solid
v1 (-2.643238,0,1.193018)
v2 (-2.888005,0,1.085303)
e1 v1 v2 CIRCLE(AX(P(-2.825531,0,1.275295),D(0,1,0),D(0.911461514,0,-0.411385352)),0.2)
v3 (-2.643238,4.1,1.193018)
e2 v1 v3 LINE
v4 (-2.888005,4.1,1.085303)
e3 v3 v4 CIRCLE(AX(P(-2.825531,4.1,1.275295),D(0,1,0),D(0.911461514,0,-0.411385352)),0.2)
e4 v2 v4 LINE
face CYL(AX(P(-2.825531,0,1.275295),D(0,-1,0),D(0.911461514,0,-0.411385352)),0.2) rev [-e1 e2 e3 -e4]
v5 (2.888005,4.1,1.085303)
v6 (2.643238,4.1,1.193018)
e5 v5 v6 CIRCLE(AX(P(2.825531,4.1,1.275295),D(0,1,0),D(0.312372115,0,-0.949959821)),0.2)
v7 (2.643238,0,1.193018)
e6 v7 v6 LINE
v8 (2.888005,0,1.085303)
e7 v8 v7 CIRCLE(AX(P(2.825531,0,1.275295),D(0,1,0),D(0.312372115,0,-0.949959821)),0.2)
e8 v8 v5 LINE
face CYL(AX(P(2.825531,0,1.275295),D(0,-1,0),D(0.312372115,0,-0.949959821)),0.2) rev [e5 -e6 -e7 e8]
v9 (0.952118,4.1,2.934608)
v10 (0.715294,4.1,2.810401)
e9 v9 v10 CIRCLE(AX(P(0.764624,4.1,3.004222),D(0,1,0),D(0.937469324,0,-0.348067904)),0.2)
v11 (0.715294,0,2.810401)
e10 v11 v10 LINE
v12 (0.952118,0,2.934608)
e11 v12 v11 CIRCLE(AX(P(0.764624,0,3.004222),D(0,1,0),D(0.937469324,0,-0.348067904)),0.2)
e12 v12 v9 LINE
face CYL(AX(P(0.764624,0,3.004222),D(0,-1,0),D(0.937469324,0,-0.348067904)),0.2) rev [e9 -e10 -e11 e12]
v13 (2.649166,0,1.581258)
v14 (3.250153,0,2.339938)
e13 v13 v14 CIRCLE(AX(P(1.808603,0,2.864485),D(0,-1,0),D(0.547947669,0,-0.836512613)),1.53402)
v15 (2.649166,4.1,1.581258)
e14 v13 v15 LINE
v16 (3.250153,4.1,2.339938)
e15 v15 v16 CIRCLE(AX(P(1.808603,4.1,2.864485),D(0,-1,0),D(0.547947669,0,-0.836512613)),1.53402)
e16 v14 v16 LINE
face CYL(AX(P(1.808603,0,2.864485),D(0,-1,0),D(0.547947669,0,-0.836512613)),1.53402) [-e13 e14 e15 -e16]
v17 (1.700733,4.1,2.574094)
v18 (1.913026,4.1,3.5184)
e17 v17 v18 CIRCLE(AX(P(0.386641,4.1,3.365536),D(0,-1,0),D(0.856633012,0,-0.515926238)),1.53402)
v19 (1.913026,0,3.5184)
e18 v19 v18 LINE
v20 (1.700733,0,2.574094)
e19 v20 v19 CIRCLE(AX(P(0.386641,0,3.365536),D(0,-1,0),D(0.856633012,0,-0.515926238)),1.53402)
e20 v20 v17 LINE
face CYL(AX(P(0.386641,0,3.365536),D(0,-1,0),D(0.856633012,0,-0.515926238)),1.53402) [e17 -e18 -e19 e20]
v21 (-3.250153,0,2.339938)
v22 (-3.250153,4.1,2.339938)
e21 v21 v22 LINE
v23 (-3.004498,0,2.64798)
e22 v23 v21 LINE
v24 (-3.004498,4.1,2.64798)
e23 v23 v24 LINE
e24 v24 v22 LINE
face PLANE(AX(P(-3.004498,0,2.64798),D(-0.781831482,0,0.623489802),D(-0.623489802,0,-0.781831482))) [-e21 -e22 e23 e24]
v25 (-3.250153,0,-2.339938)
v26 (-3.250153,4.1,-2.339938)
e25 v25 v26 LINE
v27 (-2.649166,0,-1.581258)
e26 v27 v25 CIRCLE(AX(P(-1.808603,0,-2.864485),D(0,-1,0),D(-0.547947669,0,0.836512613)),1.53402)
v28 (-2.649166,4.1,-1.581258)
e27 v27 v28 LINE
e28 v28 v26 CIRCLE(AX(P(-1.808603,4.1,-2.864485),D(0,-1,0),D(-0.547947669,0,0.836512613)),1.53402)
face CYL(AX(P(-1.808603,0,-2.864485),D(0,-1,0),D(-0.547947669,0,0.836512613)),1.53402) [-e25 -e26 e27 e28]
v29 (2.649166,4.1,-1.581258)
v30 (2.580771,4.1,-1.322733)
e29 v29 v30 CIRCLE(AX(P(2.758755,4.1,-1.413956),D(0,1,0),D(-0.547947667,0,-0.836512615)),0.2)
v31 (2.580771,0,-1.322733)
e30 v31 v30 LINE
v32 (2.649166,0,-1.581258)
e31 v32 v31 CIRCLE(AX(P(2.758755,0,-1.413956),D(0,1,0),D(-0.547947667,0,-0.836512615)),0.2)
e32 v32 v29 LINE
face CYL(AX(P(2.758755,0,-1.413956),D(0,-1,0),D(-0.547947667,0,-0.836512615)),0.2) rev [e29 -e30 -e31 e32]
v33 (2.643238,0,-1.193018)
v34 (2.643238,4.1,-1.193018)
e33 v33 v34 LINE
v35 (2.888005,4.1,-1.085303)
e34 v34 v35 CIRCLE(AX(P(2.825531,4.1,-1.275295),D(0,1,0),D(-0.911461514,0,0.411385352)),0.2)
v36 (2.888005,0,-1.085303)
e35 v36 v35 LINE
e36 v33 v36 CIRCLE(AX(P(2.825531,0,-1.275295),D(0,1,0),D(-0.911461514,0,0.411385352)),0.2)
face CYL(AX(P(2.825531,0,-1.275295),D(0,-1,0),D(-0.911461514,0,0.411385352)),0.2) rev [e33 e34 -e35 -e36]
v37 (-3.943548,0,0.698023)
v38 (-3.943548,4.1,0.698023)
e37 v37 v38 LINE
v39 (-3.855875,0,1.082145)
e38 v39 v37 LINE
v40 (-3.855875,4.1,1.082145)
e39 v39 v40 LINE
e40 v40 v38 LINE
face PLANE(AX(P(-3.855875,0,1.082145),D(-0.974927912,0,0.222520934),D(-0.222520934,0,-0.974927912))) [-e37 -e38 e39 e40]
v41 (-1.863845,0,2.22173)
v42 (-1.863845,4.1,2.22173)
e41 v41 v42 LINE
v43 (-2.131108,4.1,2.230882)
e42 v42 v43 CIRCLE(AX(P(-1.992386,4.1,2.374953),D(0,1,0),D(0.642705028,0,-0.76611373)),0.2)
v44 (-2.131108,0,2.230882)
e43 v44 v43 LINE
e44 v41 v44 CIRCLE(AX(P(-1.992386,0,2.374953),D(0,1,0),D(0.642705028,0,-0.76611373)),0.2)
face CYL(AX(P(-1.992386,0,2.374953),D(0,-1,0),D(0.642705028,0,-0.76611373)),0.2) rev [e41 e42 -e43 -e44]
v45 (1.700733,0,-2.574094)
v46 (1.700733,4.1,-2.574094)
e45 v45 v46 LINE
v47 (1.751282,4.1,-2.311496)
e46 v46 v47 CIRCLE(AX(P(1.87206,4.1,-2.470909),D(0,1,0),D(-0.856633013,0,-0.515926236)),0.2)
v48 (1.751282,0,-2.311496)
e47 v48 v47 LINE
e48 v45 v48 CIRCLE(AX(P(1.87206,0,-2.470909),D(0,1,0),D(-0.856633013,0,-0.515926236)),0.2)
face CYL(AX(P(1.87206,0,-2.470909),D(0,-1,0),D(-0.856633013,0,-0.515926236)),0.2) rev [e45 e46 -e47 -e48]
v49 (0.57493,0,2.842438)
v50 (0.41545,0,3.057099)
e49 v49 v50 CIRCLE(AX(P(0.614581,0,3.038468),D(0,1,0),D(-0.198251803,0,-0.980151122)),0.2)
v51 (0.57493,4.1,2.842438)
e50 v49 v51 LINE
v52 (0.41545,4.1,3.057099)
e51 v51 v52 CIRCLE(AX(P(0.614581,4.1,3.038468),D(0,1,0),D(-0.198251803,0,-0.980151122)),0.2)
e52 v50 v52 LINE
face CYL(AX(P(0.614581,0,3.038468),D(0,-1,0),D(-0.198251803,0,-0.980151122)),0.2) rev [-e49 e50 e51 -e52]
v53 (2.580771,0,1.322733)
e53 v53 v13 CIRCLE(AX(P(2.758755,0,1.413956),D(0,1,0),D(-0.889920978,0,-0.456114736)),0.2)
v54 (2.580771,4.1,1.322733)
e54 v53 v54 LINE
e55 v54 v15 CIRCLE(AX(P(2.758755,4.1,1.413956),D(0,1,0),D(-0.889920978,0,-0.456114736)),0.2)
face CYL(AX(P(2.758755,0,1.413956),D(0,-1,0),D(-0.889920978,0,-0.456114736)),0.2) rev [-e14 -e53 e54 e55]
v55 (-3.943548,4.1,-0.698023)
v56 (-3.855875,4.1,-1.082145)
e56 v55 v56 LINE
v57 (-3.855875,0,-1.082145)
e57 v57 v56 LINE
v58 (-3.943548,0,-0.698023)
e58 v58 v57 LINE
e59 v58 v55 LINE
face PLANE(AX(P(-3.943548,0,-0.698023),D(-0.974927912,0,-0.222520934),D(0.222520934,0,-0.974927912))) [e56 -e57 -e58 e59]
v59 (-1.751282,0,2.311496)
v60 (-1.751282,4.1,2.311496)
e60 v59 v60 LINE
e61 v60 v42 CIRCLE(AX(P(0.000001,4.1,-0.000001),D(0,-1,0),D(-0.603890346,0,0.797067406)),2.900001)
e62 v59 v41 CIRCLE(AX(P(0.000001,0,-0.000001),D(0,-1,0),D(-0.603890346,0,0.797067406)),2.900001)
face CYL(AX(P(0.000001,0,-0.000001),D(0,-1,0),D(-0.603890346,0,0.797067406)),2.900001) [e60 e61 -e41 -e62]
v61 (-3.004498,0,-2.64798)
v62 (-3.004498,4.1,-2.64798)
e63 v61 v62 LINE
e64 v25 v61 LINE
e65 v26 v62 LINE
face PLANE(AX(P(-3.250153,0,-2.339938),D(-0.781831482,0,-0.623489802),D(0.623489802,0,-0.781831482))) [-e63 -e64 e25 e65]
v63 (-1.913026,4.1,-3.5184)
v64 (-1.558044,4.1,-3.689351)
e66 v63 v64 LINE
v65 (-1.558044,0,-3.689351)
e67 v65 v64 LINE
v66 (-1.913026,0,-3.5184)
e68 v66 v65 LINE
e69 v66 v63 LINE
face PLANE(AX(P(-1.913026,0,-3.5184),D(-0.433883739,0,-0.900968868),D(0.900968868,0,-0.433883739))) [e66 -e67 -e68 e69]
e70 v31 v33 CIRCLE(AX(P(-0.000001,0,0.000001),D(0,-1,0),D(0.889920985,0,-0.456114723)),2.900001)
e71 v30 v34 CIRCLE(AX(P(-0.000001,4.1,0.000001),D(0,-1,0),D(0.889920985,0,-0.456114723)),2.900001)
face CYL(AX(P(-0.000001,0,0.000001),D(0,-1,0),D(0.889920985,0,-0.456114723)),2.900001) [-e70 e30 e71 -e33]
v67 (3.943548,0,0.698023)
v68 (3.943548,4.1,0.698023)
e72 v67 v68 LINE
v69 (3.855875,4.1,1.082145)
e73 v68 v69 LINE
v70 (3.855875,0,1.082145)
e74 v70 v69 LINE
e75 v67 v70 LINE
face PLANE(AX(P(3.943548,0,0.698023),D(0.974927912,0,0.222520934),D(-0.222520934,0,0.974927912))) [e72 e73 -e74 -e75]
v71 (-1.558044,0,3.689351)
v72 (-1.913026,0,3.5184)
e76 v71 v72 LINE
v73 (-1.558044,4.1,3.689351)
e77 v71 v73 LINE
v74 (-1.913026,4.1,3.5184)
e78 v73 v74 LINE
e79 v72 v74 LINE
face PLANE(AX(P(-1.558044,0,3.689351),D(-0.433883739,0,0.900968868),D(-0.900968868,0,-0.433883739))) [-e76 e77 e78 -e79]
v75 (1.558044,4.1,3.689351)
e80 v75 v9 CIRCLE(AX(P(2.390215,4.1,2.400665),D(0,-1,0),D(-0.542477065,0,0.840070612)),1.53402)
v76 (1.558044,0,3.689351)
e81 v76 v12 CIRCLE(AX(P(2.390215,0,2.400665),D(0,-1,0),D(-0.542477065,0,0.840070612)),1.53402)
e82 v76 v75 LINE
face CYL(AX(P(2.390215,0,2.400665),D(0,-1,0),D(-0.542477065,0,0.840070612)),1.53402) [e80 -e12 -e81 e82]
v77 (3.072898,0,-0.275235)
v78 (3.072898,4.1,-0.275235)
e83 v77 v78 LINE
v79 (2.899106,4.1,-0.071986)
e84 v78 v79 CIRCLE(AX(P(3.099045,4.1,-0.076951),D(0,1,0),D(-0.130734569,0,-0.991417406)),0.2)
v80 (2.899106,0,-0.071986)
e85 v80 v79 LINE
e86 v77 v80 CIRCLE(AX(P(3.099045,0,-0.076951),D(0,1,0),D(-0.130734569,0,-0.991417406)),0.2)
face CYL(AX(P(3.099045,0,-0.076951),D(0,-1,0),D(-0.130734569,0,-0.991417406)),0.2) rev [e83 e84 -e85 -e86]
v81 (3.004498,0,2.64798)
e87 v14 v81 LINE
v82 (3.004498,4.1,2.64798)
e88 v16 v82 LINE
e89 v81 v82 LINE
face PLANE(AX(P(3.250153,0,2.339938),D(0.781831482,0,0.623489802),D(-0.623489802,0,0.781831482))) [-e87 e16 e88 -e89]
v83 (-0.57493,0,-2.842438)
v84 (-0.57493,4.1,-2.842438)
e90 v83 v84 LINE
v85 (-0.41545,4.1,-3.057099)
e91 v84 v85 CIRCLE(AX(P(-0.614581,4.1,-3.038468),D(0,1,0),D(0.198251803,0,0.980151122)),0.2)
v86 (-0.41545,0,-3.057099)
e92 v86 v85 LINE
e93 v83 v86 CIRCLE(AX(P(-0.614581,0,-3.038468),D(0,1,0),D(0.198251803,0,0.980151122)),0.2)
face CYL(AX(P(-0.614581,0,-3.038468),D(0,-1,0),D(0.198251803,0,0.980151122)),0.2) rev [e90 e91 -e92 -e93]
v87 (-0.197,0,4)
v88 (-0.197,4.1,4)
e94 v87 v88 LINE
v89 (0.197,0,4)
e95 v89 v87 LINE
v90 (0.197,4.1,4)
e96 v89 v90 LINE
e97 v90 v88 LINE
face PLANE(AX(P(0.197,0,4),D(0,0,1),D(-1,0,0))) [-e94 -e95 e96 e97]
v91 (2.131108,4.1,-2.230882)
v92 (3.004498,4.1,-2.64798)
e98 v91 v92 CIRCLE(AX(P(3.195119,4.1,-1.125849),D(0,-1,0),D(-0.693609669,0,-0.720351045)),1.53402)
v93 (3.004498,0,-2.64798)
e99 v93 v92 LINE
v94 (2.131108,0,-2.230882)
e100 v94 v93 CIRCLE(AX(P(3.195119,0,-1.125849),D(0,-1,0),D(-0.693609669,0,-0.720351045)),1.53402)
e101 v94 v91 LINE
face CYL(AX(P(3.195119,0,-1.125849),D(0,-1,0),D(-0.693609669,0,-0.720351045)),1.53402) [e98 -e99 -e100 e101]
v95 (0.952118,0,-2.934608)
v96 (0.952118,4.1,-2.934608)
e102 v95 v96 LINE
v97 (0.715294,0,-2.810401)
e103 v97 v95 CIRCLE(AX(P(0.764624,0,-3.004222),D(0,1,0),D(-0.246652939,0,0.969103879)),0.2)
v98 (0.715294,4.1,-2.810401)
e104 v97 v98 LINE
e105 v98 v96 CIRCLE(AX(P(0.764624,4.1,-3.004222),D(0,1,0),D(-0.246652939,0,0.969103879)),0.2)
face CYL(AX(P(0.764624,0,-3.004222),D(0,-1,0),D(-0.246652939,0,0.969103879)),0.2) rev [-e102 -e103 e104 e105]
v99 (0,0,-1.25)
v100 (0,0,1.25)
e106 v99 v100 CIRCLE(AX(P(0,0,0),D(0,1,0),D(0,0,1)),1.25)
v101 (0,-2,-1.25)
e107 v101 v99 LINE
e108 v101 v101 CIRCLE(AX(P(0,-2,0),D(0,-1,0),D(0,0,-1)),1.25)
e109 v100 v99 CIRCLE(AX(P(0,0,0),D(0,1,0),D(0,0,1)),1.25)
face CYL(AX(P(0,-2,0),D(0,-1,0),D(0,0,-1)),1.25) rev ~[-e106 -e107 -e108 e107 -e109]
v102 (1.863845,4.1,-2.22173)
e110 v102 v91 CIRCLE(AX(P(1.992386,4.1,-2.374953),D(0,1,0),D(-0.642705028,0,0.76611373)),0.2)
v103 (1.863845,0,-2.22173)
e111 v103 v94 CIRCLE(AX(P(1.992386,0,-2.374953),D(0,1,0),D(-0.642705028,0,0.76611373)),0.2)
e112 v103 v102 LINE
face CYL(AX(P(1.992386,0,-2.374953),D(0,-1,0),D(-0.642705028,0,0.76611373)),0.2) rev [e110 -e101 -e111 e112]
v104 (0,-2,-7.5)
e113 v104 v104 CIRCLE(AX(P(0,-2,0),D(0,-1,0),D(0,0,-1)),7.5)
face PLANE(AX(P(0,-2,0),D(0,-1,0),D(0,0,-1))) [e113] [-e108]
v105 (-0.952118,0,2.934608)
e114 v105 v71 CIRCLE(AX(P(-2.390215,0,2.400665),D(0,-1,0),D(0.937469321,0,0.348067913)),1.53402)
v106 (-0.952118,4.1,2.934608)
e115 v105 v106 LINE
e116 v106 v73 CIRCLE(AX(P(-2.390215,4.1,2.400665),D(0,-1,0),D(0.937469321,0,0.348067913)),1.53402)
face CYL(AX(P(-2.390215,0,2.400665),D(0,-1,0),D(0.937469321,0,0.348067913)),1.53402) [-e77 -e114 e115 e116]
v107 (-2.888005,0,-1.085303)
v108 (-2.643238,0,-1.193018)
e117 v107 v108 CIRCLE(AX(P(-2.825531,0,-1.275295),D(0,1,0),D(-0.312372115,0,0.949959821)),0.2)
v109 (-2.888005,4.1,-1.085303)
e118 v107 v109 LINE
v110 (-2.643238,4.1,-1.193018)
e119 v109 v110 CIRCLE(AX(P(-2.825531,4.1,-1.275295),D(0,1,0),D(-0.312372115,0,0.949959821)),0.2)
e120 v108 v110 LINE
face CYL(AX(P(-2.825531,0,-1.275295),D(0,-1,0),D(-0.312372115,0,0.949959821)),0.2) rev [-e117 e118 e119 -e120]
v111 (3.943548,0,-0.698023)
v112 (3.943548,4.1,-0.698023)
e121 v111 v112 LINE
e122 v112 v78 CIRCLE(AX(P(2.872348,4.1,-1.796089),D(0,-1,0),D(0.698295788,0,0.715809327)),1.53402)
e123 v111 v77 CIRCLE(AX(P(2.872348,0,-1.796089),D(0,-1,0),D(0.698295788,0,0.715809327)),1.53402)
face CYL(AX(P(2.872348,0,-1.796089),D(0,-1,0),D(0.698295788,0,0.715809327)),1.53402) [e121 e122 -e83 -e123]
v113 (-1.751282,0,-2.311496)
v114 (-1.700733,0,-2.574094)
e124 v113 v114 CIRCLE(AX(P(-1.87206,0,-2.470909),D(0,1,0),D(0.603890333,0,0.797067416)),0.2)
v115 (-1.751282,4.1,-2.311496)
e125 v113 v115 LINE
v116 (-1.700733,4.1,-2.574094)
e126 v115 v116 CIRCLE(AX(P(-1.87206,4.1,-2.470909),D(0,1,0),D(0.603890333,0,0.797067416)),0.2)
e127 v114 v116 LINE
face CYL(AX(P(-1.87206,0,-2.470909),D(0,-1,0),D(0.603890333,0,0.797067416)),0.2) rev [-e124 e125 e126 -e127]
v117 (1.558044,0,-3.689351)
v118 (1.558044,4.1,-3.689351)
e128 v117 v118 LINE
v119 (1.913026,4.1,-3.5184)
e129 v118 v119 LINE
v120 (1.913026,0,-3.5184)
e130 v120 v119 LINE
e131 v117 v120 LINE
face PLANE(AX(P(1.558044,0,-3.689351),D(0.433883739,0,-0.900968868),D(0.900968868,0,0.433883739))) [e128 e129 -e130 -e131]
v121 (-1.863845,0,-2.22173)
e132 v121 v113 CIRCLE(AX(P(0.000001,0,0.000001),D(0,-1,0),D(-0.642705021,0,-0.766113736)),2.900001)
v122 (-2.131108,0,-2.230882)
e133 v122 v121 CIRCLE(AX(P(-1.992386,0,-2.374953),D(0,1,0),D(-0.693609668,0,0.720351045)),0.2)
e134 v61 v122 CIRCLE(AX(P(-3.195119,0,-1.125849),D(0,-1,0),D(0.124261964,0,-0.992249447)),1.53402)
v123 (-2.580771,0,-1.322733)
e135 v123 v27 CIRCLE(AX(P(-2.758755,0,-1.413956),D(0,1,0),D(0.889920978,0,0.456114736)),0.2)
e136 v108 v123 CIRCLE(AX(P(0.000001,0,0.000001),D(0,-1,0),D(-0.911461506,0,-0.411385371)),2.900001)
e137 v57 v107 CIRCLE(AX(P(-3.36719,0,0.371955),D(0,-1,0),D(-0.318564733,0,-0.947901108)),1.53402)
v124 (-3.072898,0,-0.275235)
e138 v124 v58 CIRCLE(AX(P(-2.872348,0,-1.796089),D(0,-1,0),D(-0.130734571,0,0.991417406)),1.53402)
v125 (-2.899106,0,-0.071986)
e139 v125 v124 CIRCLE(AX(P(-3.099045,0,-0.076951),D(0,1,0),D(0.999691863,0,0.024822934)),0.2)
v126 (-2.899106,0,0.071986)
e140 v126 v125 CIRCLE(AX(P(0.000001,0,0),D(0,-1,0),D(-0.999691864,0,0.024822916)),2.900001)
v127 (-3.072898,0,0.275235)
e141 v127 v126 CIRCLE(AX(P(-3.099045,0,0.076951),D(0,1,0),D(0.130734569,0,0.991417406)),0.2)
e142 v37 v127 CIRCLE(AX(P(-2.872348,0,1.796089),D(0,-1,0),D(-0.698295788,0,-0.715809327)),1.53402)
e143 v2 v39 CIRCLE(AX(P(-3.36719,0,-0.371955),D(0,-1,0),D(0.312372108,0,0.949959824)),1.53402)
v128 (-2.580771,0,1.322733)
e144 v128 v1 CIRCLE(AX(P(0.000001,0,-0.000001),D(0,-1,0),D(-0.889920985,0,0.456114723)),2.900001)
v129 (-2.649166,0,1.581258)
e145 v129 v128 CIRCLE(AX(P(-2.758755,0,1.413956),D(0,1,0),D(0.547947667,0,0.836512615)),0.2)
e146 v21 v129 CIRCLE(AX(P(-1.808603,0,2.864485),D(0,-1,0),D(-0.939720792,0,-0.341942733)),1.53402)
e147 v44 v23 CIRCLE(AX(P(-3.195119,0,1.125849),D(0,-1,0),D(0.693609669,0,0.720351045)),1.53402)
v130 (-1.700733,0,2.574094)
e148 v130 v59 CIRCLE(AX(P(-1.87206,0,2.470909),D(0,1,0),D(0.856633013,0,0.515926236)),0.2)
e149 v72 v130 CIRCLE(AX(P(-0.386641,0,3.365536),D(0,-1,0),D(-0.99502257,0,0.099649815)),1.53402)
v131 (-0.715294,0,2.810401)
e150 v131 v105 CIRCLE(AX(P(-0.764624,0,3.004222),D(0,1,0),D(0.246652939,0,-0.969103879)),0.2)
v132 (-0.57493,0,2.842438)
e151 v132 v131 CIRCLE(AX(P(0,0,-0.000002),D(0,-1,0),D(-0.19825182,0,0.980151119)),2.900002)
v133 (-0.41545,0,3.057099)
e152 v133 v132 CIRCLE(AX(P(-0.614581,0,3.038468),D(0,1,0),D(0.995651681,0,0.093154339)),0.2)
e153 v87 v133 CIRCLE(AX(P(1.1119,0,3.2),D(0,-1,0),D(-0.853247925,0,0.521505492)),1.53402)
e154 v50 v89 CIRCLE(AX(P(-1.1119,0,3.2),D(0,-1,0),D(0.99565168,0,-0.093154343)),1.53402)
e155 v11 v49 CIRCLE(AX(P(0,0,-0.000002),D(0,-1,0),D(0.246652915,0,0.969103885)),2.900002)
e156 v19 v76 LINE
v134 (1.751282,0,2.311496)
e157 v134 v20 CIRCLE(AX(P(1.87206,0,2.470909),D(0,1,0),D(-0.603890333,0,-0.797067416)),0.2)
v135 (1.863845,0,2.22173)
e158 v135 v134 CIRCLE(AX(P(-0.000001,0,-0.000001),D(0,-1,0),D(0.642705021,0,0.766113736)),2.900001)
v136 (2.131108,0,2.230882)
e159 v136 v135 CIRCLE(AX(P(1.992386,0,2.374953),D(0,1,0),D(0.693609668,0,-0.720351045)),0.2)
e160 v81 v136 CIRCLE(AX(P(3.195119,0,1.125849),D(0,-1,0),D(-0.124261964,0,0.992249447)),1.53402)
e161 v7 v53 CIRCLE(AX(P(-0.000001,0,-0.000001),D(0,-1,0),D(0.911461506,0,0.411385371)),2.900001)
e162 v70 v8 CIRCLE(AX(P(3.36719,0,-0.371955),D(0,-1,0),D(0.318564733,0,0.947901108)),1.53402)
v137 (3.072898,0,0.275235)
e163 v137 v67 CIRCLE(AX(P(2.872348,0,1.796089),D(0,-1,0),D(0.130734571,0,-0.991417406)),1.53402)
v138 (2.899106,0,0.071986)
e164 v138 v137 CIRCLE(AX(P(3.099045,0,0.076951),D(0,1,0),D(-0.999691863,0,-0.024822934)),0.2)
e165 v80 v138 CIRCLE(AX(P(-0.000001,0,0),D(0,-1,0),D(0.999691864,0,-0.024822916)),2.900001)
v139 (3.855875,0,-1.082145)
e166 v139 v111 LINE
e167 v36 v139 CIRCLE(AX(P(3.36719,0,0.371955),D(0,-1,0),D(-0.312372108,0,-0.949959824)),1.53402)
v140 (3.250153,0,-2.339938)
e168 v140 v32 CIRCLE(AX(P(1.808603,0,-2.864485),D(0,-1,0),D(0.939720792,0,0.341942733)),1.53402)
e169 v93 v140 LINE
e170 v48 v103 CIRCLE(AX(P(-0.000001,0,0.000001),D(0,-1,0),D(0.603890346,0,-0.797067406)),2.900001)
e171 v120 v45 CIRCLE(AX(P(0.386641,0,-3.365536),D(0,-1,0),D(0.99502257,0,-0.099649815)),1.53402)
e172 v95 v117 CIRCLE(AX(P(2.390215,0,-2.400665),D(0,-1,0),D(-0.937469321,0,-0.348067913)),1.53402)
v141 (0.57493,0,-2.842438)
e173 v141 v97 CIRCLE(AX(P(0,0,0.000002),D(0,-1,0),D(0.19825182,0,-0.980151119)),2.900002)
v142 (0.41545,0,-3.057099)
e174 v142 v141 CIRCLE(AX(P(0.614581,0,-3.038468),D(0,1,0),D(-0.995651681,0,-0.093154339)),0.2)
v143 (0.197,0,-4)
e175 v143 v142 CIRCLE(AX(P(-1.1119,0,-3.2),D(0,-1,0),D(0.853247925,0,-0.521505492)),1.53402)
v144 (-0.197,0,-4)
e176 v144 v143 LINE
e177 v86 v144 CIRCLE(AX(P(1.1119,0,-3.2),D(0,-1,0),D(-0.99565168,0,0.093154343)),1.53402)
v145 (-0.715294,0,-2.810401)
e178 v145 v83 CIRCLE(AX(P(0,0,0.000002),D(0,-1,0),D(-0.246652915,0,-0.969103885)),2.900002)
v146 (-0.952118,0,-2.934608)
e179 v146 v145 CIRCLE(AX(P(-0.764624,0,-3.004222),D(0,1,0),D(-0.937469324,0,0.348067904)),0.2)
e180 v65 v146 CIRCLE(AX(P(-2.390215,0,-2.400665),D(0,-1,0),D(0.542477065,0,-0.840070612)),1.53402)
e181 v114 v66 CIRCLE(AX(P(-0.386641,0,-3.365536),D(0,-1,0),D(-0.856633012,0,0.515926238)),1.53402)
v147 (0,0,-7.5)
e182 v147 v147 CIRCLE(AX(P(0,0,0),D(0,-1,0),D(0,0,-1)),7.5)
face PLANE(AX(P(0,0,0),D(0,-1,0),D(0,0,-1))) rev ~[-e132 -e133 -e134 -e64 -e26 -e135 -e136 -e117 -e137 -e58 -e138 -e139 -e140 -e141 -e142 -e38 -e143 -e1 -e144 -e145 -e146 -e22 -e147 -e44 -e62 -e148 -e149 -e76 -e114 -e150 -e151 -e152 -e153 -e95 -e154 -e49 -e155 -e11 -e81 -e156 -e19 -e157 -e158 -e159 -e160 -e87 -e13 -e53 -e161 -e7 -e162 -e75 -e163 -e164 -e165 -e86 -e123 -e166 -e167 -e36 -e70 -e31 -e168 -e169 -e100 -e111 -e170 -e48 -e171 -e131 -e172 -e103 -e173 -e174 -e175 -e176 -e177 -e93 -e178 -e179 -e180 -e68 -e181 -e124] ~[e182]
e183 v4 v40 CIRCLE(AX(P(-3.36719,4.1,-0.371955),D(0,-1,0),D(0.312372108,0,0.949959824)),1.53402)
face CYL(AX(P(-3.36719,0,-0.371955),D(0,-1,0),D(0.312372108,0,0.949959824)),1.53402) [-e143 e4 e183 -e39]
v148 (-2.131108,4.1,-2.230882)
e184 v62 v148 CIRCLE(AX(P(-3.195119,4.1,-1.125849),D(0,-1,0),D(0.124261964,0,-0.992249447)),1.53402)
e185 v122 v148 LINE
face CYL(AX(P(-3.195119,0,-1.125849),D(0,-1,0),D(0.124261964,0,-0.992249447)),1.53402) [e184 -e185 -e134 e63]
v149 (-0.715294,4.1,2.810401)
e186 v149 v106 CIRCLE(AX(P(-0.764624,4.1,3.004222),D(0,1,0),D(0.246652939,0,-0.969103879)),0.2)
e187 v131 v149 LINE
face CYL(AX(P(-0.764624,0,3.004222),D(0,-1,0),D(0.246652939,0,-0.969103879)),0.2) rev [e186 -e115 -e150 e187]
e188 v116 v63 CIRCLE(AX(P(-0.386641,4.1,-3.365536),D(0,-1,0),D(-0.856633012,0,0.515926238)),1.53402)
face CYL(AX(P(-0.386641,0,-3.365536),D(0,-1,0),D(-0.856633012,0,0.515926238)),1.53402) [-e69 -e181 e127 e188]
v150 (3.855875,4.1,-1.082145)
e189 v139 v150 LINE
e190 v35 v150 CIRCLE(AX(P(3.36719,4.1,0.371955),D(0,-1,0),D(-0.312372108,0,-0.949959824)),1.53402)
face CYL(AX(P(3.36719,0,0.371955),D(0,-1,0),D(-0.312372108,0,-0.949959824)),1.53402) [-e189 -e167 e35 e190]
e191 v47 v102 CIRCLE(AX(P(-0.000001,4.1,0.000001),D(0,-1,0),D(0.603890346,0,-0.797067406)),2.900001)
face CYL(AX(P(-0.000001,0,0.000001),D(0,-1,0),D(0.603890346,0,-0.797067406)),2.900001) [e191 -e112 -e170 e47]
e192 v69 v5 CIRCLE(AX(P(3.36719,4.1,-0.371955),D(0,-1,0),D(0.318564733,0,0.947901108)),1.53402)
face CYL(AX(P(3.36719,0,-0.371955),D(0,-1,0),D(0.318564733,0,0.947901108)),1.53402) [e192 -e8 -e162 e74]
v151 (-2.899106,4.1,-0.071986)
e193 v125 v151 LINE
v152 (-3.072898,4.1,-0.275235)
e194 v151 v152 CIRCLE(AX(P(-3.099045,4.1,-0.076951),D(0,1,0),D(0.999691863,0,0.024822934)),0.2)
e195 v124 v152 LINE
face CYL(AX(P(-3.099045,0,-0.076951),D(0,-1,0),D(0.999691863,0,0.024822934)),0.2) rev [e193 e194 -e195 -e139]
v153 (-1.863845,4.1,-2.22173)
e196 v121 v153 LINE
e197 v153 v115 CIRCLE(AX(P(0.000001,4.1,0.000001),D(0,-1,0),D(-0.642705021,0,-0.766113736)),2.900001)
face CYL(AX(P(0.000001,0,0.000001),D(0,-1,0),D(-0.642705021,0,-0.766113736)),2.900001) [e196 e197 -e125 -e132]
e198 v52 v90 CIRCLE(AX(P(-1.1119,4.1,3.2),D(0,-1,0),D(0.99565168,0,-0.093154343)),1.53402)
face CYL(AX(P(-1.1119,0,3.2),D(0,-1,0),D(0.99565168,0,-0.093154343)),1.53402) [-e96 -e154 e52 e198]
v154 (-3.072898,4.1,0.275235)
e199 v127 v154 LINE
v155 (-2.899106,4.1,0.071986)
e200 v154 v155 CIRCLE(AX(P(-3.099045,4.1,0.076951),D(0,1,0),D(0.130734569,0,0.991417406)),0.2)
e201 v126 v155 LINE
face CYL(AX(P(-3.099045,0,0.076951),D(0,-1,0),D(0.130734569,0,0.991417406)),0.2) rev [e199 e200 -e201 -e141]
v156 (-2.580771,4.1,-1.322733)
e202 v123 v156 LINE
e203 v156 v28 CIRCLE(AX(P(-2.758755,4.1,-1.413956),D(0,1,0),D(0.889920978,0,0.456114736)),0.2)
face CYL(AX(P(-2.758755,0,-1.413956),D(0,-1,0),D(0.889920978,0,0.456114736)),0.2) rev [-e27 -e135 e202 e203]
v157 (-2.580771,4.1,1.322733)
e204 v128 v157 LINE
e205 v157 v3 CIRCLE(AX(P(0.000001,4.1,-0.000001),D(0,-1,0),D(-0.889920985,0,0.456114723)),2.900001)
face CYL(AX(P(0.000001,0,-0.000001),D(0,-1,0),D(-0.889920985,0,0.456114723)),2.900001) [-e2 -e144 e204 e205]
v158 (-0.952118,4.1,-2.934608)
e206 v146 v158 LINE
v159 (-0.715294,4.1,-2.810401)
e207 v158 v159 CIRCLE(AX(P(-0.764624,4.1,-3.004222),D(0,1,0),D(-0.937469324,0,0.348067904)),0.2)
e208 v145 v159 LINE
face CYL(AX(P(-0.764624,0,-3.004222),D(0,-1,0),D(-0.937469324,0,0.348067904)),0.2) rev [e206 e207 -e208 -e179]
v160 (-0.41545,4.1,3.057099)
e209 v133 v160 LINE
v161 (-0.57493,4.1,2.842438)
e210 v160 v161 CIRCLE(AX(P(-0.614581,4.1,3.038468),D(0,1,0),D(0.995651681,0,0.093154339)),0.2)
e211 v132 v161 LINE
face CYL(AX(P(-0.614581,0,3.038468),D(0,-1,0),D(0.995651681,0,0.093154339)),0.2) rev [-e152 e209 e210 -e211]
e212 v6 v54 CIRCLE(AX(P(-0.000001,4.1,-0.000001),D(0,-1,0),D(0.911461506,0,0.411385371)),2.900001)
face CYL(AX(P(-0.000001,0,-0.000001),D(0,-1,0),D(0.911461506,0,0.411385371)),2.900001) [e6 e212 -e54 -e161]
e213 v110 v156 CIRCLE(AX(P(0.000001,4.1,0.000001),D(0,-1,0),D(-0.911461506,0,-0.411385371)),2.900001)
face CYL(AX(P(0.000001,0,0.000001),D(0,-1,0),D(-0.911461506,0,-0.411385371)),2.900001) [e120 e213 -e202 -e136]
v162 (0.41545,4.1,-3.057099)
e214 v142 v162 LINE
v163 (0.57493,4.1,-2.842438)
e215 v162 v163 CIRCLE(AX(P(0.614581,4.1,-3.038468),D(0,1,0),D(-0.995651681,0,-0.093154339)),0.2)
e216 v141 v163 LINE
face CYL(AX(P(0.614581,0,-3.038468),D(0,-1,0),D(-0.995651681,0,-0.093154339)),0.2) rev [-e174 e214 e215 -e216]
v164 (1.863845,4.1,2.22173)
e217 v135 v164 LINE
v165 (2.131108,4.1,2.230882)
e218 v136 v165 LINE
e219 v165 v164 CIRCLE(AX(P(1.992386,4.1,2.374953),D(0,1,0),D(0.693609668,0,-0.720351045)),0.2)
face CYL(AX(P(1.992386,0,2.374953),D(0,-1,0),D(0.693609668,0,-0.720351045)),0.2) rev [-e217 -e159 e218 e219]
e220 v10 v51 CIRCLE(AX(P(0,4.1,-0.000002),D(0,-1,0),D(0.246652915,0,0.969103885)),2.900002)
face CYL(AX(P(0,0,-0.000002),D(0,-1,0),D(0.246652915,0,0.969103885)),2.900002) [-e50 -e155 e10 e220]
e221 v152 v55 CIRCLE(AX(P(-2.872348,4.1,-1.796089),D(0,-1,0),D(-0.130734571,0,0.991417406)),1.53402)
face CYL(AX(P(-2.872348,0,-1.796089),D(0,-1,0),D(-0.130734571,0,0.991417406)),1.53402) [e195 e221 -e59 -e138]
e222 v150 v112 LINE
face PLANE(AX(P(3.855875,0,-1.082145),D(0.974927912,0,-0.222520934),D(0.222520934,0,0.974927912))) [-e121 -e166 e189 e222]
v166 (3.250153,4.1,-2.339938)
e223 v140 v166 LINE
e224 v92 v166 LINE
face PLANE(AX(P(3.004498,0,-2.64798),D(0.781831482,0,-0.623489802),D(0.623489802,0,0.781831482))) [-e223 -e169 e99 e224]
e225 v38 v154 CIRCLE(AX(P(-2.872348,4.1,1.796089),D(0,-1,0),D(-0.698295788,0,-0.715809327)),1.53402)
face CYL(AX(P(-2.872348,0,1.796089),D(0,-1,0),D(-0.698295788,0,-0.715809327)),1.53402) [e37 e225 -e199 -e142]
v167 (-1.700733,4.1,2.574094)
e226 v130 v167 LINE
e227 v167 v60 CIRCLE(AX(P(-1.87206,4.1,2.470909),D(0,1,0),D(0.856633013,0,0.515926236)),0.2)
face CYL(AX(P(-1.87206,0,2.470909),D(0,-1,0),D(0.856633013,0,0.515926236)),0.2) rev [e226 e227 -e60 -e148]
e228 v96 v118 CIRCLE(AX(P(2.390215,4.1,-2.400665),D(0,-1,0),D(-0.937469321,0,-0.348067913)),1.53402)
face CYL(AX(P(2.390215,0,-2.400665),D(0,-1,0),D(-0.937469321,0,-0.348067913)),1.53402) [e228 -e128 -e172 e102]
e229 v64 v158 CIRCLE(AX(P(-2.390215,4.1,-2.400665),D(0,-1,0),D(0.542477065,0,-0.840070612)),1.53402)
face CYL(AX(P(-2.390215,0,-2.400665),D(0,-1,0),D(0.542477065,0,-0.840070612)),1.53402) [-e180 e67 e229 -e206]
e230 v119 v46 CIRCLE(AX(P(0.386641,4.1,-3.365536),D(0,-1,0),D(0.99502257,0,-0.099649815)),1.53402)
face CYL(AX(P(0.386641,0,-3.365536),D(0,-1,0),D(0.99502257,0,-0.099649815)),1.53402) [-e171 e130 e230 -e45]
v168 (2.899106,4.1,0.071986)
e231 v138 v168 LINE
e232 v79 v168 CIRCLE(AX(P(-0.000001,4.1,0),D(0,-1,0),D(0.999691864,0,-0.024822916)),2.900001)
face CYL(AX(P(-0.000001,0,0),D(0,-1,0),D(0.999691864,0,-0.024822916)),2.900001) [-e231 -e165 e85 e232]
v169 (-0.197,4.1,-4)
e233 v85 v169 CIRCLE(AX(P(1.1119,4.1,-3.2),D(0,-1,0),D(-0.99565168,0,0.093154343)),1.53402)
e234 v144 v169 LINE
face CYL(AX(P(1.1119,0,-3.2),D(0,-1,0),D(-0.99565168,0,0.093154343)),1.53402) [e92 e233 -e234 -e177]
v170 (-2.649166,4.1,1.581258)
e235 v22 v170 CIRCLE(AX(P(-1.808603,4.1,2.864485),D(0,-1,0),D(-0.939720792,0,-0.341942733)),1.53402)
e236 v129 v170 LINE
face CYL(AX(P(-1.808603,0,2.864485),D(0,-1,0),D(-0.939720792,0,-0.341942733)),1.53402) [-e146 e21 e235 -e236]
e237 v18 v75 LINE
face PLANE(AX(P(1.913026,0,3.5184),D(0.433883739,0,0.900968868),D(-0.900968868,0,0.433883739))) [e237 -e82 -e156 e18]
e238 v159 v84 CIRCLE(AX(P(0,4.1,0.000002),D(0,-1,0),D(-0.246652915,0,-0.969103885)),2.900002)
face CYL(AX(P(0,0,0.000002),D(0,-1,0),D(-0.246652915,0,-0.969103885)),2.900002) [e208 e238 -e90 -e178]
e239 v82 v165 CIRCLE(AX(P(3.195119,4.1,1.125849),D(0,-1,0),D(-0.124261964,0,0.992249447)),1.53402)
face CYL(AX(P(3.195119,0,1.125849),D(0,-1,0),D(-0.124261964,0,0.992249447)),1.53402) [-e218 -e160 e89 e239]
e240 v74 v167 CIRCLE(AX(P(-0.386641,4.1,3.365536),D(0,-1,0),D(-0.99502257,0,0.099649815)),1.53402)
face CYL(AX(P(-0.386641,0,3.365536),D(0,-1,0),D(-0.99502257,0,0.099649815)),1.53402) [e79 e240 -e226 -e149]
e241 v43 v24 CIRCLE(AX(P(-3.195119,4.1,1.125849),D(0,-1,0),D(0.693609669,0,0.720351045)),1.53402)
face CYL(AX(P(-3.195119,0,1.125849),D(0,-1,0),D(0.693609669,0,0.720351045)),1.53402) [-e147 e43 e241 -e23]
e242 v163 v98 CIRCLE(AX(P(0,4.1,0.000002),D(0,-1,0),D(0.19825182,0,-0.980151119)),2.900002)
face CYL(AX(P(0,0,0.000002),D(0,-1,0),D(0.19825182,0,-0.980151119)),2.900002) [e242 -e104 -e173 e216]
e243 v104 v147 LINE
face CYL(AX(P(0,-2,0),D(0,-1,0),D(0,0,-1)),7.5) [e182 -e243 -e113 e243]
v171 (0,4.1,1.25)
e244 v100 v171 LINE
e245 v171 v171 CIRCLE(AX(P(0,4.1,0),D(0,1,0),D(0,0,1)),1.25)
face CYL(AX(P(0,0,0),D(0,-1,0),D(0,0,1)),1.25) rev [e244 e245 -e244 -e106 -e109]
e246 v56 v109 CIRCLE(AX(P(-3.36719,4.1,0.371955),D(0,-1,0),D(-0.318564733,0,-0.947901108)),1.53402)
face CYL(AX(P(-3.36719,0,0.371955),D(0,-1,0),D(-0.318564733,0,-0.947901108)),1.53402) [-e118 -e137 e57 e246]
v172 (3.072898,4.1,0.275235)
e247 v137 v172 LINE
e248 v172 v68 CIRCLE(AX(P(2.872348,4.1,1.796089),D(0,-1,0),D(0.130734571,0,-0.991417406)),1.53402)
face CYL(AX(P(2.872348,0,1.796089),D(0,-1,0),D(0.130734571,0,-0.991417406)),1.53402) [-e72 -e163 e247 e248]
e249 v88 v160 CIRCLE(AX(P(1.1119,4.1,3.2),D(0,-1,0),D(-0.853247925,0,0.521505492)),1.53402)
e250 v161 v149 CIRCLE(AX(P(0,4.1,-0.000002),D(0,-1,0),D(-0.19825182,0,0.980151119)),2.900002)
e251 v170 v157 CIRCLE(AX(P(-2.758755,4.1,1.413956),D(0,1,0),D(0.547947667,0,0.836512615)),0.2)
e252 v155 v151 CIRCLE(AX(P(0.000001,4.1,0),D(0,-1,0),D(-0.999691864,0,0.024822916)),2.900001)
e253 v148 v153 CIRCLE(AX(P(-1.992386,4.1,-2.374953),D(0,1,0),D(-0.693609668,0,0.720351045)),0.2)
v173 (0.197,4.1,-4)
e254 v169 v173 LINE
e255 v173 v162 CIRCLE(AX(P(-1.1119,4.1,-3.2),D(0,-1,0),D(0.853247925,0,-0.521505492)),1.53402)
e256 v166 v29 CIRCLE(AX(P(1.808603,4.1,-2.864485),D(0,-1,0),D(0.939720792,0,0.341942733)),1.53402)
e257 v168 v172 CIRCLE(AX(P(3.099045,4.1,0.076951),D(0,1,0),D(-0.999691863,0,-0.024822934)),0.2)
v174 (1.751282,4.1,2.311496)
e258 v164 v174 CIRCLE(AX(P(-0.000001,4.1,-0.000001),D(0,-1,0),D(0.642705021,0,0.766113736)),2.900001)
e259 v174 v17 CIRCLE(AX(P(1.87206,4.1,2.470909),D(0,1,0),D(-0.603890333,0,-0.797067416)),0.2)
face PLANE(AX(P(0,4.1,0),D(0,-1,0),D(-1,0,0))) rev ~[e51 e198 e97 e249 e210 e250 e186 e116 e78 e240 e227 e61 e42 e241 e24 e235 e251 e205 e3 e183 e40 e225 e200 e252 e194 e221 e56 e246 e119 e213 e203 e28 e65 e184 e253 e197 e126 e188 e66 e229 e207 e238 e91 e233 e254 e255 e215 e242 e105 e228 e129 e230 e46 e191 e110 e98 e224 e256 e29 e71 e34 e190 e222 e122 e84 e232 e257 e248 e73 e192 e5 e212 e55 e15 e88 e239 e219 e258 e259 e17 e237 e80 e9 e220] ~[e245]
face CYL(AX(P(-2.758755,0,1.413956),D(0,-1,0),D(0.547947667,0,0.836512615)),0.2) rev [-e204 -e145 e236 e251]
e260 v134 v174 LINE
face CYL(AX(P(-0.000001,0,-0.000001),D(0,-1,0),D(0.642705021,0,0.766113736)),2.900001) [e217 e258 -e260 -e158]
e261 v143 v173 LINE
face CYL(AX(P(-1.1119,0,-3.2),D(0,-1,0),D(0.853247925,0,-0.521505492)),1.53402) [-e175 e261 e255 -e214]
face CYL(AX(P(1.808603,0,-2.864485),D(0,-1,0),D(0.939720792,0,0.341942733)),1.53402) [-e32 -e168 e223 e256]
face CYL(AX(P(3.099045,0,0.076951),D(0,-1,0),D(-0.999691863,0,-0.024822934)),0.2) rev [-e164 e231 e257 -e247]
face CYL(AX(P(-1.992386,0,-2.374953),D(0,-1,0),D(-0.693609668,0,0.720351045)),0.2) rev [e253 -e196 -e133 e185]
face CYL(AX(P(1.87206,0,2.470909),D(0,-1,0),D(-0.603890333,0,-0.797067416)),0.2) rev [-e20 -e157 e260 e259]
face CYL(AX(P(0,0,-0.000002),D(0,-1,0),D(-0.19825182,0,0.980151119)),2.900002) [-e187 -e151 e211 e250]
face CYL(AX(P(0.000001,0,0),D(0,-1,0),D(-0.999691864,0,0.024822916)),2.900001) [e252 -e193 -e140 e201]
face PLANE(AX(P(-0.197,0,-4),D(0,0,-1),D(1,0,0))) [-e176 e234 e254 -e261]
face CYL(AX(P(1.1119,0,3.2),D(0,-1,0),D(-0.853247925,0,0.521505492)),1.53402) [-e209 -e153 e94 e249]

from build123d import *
from build123d.topology import SkipClean

# Parameters (mm, degrees)
SKETCH1_R           = 1.25
BOSS_EXTRUDE1_DEPTH = 4.1
BOSS_EXTRUDE2_START = 2
SKETCH2_R           = 7.5
SKETCH2_R_2         = 1.25
BOSS_EXTRUDE2_DEPTH = 2


with BuildPart() as part:
    # Sketch1 → Boss-Extrude1 (new body)
    with BuildSketch(Plane(origin=(0, 0, 0), x_dir=(1, 0, 0), z_dir=(0, 1, 0))):
        with BuildLine():
            Line((-0.197, 4), (0.197, 4))
            ThreePointArc((0.197, 4), (0.382537799, 3.546229716), (0.415450248, 3.057099349))
            ThreePointArc((0.415450248, 3.057099349), (0.454038062, 2.919195271), (0.574930224, 2.842438256))
            ThreePointArc((0.574930224, 2.842438256), (0.645310708, 2.827290945), (0.715293505, 2.810401253))
            ThreePointArc((0.715293505, 2.810401253), (0.8575172, 2.82710379), (0.952117956, 2.934608447))
            ThreePointArc((0.952117956, 2.934608447), (1.193996761, 3.361019503), (1.558044089, 3.689350568))
            Line((1.558044089, 3.689350568), (1.913025823, 3.518400375))
            ThreePointArc((1.913025823, 3.518400375), (1.883306057, 3.029065642), (1.700733436, 2.574094232))
            ThreePointArc((1.700733436, 2.574094232), (1.675665518, 2.433104326), (1.751281972, 2.311495502))
            ThreePointArc((1.751281972, 2.311495502), (1.808120425, 2.267311299), (1.863844584, 2.221729814))
            ThreePointArc((1.863844584, 2.221729814), (1.999230665, 2.175069732), (2.131107523, 2.230882351))
            ThreePointArc((2.131107523, 2.230882351), (2.534045619, 2.510118158), (3.004498439, 2.647980009))
            Line((3.004498439, 2.647980009), (3.250153421, 2.339938405))
            ThreePointArc((3.250153421, 2.339938405), (3.011062453, 1.911957968), (2.649165509, 1.581258184))
            ThreePointArc((2.649165509, 1.581258184), (2.565406867, 1.46510723), (2.580770847, 1.322732715))
            ThreePointArc((2.580770847, 1.322732715), (2.612809717, 1.258262843), (2.643238384, 1.193017539))
            ThreePointArc((2.643238384, 1.193017539), (2.744971977, 1.092236438), (2.888005108, 1.085302646))
            ThreePointArc((2.888005108, 1.085302646), (3.372195665, 1.162057126), (3.855875025, 1.082144535))
            Line((3.855875025, 1.082144535), (3.943548273, 0.698022937))
            ThreePointArc((3.943548273, 0.698022937), (3.542441002, 0.41616357), (3.072897863, 0.275234559))
            ThreePointArc((3.072897863, 0.275234559), (2.947037924, 0.206927678), (2.899106405, 0.071986492))
            ThreePointArc((2.899106405, 0.071986492), (2.9, 0), (2.899106405, -0.071986492))
            ThreePointArc((2.899106405, -0.071986492), (2.947037924, -0.206927678), (3.072897863, -0.275234559))
            ThreePointArc((3.072897863, -0.275234559), (3.542441002, -0.41616357), (3.943548273, -0.698022937))
            Line((3.943548273, -0.698022937), (3.855875025, -1.082144535))
            ThreePointArc((3.855875025, -1.082144535), (3.372195665, -1.162057126), (2.888005108, -1.085302646))
            ThreePointArc((2.888005108, -1.085302646), (2.744971977, -1.092236438), (2.643238384, -1.193017539))
            ThreePointArc((2.643238384, -1.193017539), (2.612809717, -1.258262843), (2.580770847, -1.322732715))
            ThreePointArc((2.580770847, -1.322732715), (2.565406867, -1.46510723), (2.649165509, -1.581258184))
            ThreePointArc((2.649165509, -1.581258184), (3.011062453, -1.911957968), (3.250153421, -2.339938405))
            Line((3.250153421, -2.339938405), (3.004498439, -2.647980009))
            ThreePointArc((3.004498439, -2.647980009), (2.534045619, -2.510118158), (2.131107523, -2.230882351))
            ThreePointArc((2.131107523, -2.230882351), (1.999230665, -2.175069732), (1.863844584, -2.221729814))
            ThreePointArc((1.863844584, -2.221729814), (1.808120425, -2.267311299), (1.751281972, -2.311495502))
            ThreePointArc((1.751281972, -2.311495502), (1.675665518, -2.433104326), (1.700733436, -2.574094232))
            ThreePointArc((1.700733436, -2.574094232), (1.883306057, -3.029065642), (1.913025823, -3.518400375))
            Line((1.913025823, -3.518400375), (1.558044089, -3.689350568))
            ThreePointArc((1.558044089, -3.689350568), (1.193996761, -3.361019503), (0.952117956, -2.934608447))
            ThreePointArc((0.952117956, -2.934608447), (0.8575172, -2.82710379), (0.715293505, -2.810401253))
            ThreePointArc((0.715293505, -2.810401253), (0.645310708, -2.827290945), (0.574930224, -2.842438256))
            ThreePointArc((0.574930224, -2.842438256), (0.454038062, -2.919195271), (0.415450248, -3.057099349))
            ThreePointArc((0.415450248, -3.057099349), (0.382537799, -3.546229716), (0.197, -4))
            Line((0.197, -4), (-0.197, -4))
            ThreePointArc((-0.197, -4), (-0.382537799, -3.546229716), (-0.415450248, -3.057099349))
            ThreePointArc((-0.415450248, -3.057099349), (-0.454038062, -2.919195271), (-0.574930224, -2.842438256))
            ThreePointArc((-0.574930224, -2.842438256), (-0.645310708, -2.827290945), (-0.715293505, -2.810401253))
            ThreePointArc((-0.715293505, -2.810401253), (-0.8575172, -2.82710379), (-0.952117956, -2.934608447))
            ThreePointArc((-0.952117956, -2.934608447), (-1.193996761, -3.361019503), (-1.558044089, -3.689350568))
            Line((-1.558044089, -3.689350568), (-1.913025823, -3.518400375))
            ThreePointArc((-1.913025823, -3.518400375), (-1.883306057, -3.029065642), (-1.700733436, -2.574094232))
            ThreePointArc((-1.700733436, -2.574094232), (-1.675665518, -2.433104326), (-1.751281972, -2.311495502))
            ThreePointArc((-1.751281972, -2.311495502), (-1.808120425, -2.267311299), (-1.863844584, -2.221729814))
            ThreePointArc((-1.863844584, -2.221729814), (-1.999230665, -2.175069732), (-2.131107523, -2.230882351))
            ThreePointArc((-2.131107523, -2.230882351), (-2.534045619, -2.510118158), (-3.004498439, -2.647980009))
            Line((-3.004498439, -2.647980009), (-3.250153421, -2.339938405))
            ThreePointArc((-3.250153421, -2.339938405), (-3.011062453, -1.911957968), (-2.649165509, -1.581258184))
            ThreePointArc((-2.649165509, -1.581258184), (-2.565406867, -1.46510723), (-2.580770847, -1.322732715))
            ThreePointArc((-2.580770847, -1.322732715), (-2.612809717, -1.258262843), (-2.643238384, -1.193017539))
            ThreePointArc((-2.643238384, -1.193017539), (-2.744971977, -1.092236438), (-2.888005108, -1.085302646))
            ThreePointArc((-2.888005108, -1.085302646), (-3.372195665, -1.162057126), (-3.855875025, -1.082144535))
            Line((-3.855875025, -1.082144535), (-3.943548273, -0.698022937))
            ThreePointArc((-3.943548273, -0.698022937), (-3.542441002, -0.41616357), (-3.072897863, -0.275234559))
            ThreePointArc((-3.072897863, -0.275234559), (-2.947037924, -0.206927678), (-2.899106405, -0.071986492))
            ThreePointArc((-2.899106405, -0.071986492), (-2.9, 0), (-2.899106405, 0.071986492))
            ThreePointArc((-2.899106405, 0.071986492), (-2.947037924, 0.206927678), (-3.072897863, 0.275234559))
            ThreePointArc((-3.072897863, 0.275234559), (-3.542441002, 0.41616357), (-3.943548273, 0.698022937))
            Line((-3.943548273, 0.698022937), (-3.855875025, 1.082144535))
            ThreePointArc((-3.855875025, 1.082144535), (-3.372195665, 1.162057126), (-2.888005108, 1.085302646))
            ThreePointArc((-2.888005108, 1.085302646), (-2.744971977, 1.092236438), (-2.643238384, 1.193017539))
            ThreePointArc((-2.643238384, 1.193017539), (-2.612809717, 1.258262843), (-2.580770847, 1.322732715))
            ThreePointArc((-2.580770847, 1.322732715), (-2.565406867, 1.46510723), (-2.649165509, 1.581258184))
            ThreePointArc((-2.649165509, 1.581258184), (-3.011062453, 1.911957968), (-3.250153421, 2.339938405))
            Line((-3.250153421, 2.339938405), (-3.004498439, 2.647980009))
            ThreePointArc((-3.004498439, 2.647980009), (-2.534045619, 2.510118158), (-2.131107523, 2.230882351))
            ThreePointArc((-2.131107523, 2.230882351), (-1.999230665, 2.175069732), (-1.863844584, 2.221729814))
            ThreePointArc((-1.863844584, 2.221729814), (-1.808120425, 2.267311299), (-1.751281972, 2.311495502))
            ThreePointArc((-1.751281972, 2.311495502), (-1.675665518, 2.433104326), (-1.700733436, 2.574094232))
            ThreePointArc((-1.700733436, 2.574094232), (-1.883306057, 3.029065642), (-1.913025823, 3.518400375))
            Line((-1.913025823, 3.518400375), (-1.558044089, 3.689350568))
            ThreePointArc((-1.558044089, 3.689350568), (-1.193996761, 3.361019503), (-0.952117956, 2.934608447))
            ThreePointArc((-0.952117956, 2.934608447), (-0.8575172, 2.82710379), (-0.715293505, 2.810401253))
            ThreePointArc((-0.715293505, 2.810401253), (-0.645310708, 2.827290945), (-0.574930224, 2.842438256))
            ThreePointArc((-0.574930224, 2.842438256), (-0.454038062, 2.919195271), (-0.415450248, 3.057099349))
            ThreePointArc((-0.415450248, 3.057099349), (-0.382537799, 3.546229716), (-0.197, 4))
        make_face()
        with Locations(Location((0, 0, 0), (0, 0, 270))):
            Circle(SKETCH1_R, mode=Mode.SUBTRACT)
    extrude(amount=BOSS_EXTRUDE1_DEPTH)

    # Sketch2 → Boss-Extrude2 (add)
    with SkipClean():  # the faces are left unmerged after this step: merging them gives an invalid solid
        with BuildSketch(Plane.XZ.offset(BOSS_EXTRUDE2_START)):
            with Locations(Location((0, 0, 0), (0, 0, 270))):
                Circle(SKETCH2_R)
            with Locations(Location((0, 0, 0), (0, 0, 270))):
                Circle(SKETCH2_R_2, mode=Mode.SUBTRACT)
        extrude(amount=-BOSS_EXTRUDE2_DEPTH)


solid = part.part
